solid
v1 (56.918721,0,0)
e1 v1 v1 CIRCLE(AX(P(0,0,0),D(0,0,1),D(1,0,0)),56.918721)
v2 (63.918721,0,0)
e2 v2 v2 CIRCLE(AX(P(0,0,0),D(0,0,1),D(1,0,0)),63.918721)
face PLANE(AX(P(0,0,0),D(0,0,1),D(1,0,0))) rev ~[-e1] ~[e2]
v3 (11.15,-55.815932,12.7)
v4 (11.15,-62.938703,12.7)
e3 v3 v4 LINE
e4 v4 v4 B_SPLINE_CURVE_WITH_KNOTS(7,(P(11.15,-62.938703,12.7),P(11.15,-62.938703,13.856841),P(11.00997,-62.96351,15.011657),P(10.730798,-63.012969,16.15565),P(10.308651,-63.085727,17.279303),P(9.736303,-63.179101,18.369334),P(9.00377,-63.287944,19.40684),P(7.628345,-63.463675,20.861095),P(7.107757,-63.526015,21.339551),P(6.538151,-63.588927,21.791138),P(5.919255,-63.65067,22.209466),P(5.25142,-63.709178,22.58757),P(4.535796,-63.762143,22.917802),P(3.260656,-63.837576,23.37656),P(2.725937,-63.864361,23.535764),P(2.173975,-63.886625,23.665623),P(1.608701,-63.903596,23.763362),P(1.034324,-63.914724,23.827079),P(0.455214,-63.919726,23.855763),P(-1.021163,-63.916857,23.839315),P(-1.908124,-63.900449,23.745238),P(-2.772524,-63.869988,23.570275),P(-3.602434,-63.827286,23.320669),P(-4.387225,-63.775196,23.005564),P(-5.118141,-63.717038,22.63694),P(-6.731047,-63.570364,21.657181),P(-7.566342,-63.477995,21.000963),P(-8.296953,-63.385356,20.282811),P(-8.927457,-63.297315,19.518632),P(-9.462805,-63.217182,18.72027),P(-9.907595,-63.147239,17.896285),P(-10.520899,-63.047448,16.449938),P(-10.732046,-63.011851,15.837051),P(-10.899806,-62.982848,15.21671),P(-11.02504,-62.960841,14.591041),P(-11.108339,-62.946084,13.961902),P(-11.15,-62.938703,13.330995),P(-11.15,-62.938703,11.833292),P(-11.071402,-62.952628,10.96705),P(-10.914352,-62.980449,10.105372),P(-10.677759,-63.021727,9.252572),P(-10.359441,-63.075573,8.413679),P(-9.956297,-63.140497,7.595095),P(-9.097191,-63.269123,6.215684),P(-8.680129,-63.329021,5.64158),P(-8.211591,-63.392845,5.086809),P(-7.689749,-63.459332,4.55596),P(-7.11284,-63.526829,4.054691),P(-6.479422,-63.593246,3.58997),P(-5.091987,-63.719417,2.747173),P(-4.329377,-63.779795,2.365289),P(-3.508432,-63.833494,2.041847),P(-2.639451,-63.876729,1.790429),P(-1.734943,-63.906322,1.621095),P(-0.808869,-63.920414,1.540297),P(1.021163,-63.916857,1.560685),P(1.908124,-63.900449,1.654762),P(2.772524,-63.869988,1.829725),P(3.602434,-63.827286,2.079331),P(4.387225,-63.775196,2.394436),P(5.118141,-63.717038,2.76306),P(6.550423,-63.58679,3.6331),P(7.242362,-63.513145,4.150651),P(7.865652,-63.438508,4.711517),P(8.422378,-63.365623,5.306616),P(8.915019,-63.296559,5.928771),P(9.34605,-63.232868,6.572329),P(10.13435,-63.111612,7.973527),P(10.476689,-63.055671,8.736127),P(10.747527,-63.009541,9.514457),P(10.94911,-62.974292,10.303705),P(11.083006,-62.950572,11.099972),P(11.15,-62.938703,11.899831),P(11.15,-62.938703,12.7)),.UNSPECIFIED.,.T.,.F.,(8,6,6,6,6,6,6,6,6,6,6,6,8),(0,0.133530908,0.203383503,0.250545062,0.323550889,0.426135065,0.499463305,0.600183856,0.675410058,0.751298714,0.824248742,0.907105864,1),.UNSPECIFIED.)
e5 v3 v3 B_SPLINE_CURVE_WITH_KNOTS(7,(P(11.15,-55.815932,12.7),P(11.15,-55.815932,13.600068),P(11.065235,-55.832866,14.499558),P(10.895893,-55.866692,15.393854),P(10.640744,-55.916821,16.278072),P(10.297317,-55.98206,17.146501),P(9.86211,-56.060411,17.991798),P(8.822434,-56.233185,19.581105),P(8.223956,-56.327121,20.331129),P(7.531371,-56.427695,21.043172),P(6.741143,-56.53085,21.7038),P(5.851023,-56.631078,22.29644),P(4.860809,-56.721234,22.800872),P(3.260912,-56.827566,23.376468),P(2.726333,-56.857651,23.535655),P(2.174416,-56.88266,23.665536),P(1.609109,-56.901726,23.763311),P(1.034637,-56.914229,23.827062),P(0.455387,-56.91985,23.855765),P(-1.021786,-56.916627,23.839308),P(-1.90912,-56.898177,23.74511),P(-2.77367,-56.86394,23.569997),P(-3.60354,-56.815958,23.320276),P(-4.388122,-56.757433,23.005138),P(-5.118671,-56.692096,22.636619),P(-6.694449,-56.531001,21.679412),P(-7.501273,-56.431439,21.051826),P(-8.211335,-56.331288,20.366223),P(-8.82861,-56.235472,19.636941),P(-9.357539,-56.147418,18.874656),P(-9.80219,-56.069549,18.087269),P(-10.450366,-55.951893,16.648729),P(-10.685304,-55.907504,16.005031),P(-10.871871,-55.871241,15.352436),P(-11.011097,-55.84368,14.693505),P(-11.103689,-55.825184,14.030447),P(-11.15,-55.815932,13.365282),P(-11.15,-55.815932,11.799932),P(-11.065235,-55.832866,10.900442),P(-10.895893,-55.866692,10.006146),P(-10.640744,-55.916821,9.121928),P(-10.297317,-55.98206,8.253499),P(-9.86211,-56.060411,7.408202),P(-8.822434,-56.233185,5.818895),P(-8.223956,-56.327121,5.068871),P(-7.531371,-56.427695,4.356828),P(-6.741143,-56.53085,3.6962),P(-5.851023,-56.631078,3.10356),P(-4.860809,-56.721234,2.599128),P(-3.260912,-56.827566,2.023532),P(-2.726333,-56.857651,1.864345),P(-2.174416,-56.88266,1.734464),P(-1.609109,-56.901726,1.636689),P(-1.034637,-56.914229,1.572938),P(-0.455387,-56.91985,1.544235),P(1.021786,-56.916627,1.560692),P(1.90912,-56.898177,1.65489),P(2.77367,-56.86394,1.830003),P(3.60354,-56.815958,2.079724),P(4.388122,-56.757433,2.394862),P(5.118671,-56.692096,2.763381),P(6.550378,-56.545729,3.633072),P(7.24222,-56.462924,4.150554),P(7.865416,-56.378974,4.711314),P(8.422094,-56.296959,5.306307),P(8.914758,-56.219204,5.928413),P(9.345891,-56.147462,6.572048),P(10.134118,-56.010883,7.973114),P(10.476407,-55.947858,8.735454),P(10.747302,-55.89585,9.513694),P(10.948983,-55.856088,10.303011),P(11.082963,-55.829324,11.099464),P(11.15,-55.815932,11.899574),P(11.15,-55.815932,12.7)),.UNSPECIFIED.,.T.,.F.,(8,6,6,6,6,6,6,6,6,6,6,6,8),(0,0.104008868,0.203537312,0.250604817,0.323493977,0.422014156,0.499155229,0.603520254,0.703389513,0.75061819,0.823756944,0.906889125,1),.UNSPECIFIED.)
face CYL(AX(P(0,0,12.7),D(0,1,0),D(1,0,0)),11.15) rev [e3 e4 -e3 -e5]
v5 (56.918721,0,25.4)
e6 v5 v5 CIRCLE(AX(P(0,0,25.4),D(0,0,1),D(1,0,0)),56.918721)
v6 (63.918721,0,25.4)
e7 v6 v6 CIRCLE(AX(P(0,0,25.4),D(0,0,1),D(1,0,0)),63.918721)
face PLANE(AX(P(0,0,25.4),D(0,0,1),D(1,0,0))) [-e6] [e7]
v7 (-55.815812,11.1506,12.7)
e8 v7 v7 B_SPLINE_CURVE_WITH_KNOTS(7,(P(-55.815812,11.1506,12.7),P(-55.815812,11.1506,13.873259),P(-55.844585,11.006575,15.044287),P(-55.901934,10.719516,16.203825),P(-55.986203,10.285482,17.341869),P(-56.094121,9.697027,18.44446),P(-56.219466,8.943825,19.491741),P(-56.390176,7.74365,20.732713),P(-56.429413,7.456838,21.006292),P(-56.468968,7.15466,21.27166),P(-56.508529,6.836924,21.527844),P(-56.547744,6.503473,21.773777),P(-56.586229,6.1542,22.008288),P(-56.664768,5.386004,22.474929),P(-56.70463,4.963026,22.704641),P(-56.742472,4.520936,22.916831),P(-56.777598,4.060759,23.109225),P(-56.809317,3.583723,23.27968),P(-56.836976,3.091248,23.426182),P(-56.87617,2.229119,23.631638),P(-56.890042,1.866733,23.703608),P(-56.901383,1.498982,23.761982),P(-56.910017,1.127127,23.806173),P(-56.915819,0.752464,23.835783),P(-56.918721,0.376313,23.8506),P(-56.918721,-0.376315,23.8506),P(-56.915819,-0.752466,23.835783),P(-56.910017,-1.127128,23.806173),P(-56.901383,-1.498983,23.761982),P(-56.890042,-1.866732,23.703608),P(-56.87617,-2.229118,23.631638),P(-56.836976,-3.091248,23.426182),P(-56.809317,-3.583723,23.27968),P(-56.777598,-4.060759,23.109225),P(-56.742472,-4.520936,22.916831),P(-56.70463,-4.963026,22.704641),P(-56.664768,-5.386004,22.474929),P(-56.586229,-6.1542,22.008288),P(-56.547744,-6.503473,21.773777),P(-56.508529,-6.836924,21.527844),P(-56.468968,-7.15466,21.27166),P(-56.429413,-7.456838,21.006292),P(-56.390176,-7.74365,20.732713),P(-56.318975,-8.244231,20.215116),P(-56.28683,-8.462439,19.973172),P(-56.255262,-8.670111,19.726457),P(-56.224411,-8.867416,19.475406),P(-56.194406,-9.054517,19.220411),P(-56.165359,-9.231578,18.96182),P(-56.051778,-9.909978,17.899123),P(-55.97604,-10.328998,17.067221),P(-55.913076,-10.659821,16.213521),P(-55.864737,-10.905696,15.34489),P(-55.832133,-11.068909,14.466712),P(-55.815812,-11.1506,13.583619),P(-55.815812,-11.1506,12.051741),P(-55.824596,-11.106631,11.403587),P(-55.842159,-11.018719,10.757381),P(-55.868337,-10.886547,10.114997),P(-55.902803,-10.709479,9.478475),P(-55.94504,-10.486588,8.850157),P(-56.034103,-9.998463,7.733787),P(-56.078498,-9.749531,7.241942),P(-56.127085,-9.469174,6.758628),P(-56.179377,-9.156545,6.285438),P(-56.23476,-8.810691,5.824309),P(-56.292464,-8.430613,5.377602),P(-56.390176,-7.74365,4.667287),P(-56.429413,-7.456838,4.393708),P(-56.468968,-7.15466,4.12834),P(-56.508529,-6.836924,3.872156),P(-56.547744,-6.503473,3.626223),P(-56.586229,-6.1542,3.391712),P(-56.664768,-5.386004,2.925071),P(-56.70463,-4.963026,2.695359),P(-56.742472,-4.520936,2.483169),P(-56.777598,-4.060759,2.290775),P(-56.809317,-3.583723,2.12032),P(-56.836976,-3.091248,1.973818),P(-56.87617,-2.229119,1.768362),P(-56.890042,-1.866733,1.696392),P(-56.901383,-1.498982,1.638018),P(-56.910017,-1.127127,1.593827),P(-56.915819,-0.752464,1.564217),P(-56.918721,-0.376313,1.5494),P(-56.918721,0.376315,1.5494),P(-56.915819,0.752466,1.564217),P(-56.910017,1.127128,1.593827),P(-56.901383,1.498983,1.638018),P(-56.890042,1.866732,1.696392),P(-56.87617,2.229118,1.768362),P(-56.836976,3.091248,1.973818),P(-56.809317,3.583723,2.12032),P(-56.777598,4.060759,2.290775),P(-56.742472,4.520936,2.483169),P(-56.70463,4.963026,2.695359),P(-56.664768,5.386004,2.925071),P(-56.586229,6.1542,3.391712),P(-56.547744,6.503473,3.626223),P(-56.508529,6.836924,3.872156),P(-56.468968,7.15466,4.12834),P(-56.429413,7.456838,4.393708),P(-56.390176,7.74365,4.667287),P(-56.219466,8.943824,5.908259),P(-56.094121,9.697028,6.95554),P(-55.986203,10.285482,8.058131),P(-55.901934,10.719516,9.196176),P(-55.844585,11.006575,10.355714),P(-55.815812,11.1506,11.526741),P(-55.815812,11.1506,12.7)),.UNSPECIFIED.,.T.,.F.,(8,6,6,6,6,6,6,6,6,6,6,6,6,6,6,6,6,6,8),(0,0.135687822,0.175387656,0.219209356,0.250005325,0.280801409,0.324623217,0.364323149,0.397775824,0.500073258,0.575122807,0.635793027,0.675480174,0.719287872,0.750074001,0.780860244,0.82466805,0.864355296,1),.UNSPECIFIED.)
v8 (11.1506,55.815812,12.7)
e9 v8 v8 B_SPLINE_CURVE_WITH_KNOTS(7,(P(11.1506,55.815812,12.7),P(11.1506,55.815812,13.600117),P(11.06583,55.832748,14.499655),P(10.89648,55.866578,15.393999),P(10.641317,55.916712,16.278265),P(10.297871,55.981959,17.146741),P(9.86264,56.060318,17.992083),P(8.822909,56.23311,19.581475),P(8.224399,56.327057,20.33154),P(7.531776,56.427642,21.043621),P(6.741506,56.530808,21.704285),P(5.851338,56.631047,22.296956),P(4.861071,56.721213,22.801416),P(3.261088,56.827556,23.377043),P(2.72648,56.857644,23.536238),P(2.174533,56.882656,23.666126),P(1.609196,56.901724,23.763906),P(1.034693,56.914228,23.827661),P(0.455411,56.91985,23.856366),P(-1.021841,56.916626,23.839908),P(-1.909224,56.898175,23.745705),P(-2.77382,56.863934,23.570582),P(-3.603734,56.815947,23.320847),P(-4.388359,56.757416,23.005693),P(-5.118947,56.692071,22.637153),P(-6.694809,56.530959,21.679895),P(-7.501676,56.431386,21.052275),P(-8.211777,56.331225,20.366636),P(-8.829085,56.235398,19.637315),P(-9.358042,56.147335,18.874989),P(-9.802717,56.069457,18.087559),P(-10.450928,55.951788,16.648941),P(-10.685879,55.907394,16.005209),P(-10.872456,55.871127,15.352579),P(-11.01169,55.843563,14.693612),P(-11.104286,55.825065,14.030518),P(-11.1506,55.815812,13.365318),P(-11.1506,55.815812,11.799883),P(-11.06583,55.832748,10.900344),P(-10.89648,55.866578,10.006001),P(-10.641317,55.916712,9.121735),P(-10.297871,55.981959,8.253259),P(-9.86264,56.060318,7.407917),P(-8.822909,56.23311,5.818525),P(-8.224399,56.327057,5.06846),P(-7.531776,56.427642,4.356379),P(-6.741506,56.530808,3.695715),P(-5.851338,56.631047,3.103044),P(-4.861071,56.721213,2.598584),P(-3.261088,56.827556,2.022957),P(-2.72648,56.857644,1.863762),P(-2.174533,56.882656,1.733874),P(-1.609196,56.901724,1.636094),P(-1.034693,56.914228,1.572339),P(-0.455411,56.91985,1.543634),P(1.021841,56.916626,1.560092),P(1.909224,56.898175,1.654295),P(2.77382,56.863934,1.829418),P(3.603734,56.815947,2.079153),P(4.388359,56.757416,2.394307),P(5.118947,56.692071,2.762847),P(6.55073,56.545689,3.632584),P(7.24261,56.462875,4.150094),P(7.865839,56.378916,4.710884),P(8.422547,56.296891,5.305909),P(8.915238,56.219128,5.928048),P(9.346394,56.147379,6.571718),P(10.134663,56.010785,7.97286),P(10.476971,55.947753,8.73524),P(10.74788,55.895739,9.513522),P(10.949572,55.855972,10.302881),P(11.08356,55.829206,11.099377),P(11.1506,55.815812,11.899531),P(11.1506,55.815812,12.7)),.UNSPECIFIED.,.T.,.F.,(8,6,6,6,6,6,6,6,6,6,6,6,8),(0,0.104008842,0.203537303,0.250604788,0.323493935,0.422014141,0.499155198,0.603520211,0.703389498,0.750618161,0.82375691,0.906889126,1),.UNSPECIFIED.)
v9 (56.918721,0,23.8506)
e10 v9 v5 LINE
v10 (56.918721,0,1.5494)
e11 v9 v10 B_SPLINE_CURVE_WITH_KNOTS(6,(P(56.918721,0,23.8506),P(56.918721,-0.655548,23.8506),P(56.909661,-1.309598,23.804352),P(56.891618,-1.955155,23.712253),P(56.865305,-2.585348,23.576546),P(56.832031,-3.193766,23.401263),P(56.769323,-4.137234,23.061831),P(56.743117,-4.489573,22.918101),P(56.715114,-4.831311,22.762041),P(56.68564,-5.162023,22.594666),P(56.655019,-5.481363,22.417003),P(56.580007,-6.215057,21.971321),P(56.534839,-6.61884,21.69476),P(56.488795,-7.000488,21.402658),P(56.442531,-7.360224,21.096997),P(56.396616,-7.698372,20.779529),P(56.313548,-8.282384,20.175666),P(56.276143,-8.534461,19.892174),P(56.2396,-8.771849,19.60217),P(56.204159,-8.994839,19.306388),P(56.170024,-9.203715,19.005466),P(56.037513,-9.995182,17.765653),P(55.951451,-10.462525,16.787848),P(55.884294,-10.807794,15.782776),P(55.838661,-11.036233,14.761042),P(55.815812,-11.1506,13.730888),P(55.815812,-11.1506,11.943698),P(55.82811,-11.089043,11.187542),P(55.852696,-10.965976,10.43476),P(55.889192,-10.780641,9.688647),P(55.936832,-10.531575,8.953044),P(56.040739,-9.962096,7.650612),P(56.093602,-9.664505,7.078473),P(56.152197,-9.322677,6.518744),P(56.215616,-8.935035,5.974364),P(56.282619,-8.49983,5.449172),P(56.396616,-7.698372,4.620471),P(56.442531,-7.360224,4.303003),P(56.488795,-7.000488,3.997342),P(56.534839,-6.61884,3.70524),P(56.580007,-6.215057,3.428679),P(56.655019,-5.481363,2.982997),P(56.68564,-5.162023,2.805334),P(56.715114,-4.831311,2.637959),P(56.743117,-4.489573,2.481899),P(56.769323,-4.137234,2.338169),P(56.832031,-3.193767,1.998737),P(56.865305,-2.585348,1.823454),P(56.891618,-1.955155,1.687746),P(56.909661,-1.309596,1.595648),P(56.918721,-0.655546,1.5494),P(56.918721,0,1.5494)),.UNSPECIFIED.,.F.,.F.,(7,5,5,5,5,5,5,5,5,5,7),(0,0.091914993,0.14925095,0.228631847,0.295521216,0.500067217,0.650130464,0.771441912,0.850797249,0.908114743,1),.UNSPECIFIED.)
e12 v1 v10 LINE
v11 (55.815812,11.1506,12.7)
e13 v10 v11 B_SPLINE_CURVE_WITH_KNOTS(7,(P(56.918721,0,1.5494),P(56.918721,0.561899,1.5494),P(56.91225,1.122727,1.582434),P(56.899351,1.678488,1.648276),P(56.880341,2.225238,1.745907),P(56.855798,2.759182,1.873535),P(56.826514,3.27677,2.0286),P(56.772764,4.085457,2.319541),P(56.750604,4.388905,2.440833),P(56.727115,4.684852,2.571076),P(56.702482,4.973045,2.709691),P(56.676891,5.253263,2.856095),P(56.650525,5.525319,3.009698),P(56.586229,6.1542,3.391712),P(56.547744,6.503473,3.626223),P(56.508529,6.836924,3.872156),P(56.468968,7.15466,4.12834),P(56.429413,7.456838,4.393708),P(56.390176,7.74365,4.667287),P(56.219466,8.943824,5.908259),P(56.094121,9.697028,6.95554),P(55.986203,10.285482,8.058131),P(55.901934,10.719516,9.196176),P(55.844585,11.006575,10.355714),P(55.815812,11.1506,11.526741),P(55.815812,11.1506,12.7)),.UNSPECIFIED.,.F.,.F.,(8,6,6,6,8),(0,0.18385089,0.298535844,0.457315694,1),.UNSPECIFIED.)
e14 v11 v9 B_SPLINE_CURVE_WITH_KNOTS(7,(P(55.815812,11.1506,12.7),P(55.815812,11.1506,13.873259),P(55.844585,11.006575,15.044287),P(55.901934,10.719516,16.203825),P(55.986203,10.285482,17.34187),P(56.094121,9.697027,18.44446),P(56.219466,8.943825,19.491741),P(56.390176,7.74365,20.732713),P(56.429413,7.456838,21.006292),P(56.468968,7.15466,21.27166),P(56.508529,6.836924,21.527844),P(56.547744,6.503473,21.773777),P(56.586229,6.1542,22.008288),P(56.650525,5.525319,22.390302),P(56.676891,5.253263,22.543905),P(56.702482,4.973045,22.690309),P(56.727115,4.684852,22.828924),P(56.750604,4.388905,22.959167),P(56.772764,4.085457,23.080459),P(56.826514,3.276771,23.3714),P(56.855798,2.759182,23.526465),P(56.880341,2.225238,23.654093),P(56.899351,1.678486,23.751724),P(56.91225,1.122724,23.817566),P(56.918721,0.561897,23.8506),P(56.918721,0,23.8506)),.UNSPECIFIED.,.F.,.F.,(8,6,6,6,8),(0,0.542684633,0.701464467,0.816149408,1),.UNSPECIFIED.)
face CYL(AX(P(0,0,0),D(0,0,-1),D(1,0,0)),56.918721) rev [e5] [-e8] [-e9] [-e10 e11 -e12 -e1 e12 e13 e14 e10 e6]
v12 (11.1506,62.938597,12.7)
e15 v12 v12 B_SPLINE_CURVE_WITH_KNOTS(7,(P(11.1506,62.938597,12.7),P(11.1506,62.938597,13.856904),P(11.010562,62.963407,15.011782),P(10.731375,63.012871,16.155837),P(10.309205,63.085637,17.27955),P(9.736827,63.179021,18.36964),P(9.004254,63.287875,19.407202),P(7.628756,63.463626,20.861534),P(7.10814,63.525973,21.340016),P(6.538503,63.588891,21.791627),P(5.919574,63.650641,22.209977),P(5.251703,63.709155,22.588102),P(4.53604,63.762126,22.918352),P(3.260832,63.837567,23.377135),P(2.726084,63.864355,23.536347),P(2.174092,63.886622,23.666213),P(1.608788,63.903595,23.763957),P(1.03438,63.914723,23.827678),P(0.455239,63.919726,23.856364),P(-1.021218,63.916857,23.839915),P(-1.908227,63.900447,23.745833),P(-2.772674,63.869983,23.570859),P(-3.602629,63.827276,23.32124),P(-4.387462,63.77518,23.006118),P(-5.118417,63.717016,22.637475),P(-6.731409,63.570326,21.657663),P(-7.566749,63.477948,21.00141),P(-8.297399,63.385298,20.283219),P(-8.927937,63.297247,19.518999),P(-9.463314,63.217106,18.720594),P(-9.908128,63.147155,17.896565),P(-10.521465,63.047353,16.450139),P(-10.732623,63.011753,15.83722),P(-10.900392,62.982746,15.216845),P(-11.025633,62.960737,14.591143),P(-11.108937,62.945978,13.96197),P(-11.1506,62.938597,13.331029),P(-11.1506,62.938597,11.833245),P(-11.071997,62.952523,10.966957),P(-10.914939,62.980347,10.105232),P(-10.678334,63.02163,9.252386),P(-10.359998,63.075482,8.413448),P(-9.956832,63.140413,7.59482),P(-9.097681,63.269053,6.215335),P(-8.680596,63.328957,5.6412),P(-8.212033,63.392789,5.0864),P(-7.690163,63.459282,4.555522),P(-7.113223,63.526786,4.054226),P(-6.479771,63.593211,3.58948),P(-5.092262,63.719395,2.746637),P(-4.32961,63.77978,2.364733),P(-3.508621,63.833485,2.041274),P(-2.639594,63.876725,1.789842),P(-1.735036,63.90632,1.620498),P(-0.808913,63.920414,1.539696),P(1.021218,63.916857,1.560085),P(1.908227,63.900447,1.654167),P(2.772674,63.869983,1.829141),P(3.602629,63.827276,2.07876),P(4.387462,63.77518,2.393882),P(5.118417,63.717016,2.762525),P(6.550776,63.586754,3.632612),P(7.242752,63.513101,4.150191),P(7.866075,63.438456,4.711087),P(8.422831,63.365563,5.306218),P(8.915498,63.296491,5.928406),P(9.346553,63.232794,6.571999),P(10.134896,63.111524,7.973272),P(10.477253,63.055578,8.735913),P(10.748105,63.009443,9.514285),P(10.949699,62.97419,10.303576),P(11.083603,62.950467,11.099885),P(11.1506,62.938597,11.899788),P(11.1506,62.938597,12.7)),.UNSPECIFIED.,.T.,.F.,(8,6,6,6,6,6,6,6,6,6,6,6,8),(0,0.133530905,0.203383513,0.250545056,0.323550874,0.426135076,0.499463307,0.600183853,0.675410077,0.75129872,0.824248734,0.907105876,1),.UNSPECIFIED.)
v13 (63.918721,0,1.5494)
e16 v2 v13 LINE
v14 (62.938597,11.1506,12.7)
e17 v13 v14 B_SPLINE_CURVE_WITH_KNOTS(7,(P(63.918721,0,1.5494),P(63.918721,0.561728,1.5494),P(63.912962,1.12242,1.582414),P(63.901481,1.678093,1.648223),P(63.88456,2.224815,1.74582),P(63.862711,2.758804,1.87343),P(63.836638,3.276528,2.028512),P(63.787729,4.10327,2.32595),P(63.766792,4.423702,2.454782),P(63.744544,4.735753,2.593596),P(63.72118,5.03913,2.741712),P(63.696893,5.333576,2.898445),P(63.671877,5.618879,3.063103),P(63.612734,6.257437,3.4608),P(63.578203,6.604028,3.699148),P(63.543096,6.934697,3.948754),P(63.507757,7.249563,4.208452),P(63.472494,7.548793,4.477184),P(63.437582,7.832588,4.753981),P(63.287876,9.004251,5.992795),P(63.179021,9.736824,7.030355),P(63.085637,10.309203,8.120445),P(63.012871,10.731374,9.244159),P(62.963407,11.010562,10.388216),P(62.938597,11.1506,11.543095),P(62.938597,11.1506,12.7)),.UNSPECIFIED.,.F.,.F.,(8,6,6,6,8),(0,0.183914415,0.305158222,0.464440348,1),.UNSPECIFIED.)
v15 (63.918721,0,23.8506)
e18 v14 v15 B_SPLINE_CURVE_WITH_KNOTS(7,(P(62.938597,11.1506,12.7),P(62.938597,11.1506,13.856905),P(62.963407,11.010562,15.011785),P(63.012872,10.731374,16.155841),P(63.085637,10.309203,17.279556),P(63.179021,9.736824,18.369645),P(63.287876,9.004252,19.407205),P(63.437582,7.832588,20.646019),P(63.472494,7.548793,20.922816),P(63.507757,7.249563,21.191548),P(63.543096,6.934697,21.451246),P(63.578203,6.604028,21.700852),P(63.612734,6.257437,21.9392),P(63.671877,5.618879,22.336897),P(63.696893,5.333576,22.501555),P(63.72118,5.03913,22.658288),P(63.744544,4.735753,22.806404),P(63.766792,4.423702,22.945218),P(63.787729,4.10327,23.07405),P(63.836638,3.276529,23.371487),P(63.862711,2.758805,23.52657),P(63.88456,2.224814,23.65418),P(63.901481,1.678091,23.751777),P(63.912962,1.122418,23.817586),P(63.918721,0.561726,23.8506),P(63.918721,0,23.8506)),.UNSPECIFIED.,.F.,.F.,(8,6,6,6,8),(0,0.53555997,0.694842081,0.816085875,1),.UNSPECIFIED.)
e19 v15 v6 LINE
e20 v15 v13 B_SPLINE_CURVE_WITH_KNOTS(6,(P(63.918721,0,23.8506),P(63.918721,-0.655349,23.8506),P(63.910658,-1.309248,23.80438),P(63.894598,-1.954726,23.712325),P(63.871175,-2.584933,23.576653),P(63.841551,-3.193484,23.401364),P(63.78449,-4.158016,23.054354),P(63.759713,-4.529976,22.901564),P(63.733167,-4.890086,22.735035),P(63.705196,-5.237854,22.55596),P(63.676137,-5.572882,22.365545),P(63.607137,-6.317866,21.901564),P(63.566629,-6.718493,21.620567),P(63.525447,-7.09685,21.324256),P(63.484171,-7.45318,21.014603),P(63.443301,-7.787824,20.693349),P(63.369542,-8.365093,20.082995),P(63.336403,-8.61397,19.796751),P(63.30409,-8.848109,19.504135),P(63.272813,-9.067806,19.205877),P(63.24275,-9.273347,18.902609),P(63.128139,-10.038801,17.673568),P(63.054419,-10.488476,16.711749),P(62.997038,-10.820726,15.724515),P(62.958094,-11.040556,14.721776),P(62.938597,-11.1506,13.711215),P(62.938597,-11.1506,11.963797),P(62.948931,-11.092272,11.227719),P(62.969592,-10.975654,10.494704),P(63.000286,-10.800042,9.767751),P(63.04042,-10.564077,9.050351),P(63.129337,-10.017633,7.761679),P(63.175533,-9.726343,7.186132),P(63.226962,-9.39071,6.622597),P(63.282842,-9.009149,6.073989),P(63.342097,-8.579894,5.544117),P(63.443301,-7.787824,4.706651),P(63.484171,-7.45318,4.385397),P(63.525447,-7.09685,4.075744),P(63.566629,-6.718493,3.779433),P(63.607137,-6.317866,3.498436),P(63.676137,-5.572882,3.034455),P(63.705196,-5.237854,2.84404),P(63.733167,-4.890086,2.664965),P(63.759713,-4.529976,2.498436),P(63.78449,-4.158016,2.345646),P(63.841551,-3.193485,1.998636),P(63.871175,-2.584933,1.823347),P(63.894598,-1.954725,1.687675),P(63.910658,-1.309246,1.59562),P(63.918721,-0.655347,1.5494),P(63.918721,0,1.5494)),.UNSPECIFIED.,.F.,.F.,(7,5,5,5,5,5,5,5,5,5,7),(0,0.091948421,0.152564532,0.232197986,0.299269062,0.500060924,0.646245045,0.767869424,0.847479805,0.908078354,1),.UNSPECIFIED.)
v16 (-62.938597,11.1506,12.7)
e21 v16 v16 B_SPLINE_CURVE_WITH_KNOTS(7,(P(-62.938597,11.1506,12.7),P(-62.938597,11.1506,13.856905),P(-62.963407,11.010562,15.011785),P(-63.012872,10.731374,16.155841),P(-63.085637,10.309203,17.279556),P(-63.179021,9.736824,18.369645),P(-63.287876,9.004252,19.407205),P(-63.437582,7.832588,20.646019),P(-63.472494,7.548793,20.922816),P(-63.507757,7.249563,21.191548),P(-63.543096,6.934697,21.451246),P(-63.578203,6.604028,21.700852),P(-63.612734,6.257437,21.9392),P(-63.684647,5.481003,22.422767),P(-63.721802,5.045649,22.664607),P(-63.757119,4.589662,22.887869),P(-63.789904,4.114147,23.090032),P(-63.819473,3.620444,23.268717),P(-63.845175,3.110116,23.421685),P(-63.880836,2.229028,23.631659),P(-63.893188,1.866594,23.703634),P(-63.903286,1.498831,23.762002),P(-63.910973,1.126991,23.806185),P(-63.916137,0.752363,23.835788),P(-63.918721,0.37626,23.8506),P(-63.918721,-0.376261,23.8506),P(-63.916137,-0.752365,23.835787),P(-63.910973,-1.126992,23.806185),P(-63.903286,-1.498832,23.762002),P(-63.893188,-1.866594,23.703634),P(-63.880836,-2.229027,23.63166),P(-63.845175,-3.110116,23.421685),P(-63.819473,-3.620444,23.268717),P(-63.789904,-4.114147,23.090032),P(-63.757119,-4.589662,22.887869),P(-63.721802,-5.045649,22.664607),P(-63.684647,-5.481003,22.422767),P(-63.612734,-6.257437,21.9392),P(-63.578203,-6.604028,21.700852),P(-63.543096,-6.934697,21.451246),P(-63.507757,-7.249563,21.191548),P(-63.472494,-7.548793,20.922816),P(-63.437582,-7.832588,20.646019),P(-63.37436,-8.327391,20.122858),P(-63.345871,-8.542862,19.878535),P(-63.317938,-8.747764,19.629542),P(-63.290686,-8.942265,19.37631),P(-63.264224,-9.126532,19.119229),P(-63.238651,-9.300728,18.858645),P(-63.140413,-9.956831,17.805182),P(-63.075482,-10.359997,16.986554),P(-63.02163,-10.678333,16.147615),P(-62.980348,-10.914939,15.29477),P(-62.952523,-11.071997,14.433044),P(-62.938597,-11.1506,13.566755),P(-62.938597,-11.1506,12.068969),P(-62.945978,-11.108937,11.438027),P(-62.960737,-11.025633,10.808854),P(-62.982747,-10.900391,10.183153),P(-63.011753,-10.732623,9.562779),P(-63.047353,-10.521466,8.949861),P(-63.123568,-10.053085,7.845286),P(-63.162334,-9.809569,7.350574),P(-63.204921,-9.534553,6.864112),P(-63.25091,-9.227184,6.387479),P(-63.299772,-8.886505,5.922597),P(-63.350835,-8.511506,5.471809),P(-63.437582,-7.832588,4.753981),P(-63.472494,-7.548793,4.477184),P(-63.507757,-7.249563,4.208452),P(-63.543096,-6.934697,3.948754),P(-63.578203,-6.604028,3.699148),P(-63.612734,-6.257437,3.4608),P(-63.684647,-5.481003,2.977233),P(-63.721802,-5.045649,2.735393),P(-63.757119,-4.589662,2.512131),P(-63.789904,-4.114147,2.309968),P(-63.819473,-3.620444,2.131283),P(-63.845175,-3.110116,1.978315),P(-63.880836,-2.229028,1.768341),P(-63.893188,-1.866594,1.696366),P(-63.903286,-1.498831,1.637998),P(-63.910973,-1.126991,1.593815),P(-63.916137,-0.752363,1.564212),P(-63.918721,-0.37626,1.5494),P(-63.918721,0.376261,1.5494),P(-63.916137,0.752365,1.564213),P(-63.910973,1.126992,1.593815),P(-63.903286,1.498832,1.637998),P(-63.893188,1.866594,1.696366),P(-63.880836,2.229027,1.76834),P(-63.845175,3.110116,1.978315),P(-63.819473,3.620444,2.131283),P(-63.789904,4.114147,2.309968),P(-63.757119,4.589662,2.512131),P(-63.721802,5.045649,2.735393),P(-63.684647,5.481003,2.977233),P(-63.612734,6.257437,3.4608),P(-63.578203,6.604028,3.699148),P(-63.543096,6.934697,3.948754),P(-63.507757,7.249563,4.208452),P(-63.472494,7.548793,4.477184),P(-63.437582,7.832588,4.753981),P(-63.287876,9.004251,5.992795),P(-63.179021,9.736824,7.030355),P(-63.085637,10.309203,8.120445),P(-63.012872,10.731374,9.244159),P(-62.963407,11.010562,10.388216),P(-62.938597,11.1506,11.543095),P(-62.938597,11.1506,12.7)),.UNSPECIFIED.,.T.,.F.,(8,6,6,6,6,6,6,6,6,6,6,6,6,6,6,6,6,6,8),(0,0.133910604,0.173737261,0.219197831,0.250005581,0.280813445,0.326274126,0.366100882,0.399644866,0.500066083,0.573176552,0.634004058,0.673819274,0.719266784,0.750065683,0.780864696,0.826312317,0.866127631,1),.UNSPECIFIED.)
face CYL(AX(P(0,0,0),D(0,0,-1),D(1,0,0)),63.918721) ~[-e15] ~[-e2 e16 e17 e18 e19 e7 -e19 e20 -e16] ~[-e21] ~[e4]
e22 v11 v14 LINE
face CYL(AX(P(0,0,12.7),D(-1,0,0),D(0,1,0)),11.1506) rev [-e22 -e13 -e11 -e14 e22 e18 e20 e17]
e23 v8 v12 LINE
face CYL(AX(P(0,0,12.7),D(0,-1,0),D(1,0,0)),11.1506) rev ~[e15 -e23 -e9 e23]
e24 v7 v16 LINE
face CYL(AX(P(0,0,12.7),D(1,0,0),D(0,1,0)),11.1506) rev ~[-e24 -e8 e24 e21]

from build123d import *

# Parameters (mm, degrees)
F0_R     = 63.918721
F0_R_2   = 56.918721
F1_DEPTH = 25.4
F2_R     = 11.15
F3_DEPTH = 76.2
F4_R     = 11.1506
F5_DEPTH = 76.2
F6_R     = 11.1506
F7_DEPTH = 76.2
F8_R     = 11.1506
F9_DEPTH = 76.2


with BuildPart() as f1:
    # F0 (on Top) → F1 (new body)
    with BuildSketch(Plane.XY):
        Circle(F0_R)
        Circle(F0_R_2, mode=Mode.SUBTRACT)
    extrude(amount=F1_DEPTH)

    # F2 (on Front) → F3 (cut)
    with BuildSketch(Plane.XZ):
        with Locations((0, 12.7)):
            Circle(F2_R)
    extrude(amount=F3_DEPTH, mode=Mode.SUBTRACT)

    # F4 (on Front) → F5 (cut)
    with BuildSketch(Plane.XZ):
        with Locations((0, 12.7)):
            Circle(F4_R)
    extrude(amount=-F5_DEPTH, mode=Mode.SUBTRACT)

    # F6 (on Right) → F7 (cut)
    with BuildSketch(Plane.YZ):
        with Locations((0, 12.7)):
            Circle(F6_R)
    extrude(amount=-F7_DEPTH, mode=Mode.SUBTRACT)

    # F8 (on Right) → F9 (cut)
    with BuildSketch(Plane.YZ):
        with Locations((0, 12.7)):
            Circle(F8_R)
    extrude(amount=F9_DEPTH, mode=Mode.SUBTRACT)


solid = f1.part
